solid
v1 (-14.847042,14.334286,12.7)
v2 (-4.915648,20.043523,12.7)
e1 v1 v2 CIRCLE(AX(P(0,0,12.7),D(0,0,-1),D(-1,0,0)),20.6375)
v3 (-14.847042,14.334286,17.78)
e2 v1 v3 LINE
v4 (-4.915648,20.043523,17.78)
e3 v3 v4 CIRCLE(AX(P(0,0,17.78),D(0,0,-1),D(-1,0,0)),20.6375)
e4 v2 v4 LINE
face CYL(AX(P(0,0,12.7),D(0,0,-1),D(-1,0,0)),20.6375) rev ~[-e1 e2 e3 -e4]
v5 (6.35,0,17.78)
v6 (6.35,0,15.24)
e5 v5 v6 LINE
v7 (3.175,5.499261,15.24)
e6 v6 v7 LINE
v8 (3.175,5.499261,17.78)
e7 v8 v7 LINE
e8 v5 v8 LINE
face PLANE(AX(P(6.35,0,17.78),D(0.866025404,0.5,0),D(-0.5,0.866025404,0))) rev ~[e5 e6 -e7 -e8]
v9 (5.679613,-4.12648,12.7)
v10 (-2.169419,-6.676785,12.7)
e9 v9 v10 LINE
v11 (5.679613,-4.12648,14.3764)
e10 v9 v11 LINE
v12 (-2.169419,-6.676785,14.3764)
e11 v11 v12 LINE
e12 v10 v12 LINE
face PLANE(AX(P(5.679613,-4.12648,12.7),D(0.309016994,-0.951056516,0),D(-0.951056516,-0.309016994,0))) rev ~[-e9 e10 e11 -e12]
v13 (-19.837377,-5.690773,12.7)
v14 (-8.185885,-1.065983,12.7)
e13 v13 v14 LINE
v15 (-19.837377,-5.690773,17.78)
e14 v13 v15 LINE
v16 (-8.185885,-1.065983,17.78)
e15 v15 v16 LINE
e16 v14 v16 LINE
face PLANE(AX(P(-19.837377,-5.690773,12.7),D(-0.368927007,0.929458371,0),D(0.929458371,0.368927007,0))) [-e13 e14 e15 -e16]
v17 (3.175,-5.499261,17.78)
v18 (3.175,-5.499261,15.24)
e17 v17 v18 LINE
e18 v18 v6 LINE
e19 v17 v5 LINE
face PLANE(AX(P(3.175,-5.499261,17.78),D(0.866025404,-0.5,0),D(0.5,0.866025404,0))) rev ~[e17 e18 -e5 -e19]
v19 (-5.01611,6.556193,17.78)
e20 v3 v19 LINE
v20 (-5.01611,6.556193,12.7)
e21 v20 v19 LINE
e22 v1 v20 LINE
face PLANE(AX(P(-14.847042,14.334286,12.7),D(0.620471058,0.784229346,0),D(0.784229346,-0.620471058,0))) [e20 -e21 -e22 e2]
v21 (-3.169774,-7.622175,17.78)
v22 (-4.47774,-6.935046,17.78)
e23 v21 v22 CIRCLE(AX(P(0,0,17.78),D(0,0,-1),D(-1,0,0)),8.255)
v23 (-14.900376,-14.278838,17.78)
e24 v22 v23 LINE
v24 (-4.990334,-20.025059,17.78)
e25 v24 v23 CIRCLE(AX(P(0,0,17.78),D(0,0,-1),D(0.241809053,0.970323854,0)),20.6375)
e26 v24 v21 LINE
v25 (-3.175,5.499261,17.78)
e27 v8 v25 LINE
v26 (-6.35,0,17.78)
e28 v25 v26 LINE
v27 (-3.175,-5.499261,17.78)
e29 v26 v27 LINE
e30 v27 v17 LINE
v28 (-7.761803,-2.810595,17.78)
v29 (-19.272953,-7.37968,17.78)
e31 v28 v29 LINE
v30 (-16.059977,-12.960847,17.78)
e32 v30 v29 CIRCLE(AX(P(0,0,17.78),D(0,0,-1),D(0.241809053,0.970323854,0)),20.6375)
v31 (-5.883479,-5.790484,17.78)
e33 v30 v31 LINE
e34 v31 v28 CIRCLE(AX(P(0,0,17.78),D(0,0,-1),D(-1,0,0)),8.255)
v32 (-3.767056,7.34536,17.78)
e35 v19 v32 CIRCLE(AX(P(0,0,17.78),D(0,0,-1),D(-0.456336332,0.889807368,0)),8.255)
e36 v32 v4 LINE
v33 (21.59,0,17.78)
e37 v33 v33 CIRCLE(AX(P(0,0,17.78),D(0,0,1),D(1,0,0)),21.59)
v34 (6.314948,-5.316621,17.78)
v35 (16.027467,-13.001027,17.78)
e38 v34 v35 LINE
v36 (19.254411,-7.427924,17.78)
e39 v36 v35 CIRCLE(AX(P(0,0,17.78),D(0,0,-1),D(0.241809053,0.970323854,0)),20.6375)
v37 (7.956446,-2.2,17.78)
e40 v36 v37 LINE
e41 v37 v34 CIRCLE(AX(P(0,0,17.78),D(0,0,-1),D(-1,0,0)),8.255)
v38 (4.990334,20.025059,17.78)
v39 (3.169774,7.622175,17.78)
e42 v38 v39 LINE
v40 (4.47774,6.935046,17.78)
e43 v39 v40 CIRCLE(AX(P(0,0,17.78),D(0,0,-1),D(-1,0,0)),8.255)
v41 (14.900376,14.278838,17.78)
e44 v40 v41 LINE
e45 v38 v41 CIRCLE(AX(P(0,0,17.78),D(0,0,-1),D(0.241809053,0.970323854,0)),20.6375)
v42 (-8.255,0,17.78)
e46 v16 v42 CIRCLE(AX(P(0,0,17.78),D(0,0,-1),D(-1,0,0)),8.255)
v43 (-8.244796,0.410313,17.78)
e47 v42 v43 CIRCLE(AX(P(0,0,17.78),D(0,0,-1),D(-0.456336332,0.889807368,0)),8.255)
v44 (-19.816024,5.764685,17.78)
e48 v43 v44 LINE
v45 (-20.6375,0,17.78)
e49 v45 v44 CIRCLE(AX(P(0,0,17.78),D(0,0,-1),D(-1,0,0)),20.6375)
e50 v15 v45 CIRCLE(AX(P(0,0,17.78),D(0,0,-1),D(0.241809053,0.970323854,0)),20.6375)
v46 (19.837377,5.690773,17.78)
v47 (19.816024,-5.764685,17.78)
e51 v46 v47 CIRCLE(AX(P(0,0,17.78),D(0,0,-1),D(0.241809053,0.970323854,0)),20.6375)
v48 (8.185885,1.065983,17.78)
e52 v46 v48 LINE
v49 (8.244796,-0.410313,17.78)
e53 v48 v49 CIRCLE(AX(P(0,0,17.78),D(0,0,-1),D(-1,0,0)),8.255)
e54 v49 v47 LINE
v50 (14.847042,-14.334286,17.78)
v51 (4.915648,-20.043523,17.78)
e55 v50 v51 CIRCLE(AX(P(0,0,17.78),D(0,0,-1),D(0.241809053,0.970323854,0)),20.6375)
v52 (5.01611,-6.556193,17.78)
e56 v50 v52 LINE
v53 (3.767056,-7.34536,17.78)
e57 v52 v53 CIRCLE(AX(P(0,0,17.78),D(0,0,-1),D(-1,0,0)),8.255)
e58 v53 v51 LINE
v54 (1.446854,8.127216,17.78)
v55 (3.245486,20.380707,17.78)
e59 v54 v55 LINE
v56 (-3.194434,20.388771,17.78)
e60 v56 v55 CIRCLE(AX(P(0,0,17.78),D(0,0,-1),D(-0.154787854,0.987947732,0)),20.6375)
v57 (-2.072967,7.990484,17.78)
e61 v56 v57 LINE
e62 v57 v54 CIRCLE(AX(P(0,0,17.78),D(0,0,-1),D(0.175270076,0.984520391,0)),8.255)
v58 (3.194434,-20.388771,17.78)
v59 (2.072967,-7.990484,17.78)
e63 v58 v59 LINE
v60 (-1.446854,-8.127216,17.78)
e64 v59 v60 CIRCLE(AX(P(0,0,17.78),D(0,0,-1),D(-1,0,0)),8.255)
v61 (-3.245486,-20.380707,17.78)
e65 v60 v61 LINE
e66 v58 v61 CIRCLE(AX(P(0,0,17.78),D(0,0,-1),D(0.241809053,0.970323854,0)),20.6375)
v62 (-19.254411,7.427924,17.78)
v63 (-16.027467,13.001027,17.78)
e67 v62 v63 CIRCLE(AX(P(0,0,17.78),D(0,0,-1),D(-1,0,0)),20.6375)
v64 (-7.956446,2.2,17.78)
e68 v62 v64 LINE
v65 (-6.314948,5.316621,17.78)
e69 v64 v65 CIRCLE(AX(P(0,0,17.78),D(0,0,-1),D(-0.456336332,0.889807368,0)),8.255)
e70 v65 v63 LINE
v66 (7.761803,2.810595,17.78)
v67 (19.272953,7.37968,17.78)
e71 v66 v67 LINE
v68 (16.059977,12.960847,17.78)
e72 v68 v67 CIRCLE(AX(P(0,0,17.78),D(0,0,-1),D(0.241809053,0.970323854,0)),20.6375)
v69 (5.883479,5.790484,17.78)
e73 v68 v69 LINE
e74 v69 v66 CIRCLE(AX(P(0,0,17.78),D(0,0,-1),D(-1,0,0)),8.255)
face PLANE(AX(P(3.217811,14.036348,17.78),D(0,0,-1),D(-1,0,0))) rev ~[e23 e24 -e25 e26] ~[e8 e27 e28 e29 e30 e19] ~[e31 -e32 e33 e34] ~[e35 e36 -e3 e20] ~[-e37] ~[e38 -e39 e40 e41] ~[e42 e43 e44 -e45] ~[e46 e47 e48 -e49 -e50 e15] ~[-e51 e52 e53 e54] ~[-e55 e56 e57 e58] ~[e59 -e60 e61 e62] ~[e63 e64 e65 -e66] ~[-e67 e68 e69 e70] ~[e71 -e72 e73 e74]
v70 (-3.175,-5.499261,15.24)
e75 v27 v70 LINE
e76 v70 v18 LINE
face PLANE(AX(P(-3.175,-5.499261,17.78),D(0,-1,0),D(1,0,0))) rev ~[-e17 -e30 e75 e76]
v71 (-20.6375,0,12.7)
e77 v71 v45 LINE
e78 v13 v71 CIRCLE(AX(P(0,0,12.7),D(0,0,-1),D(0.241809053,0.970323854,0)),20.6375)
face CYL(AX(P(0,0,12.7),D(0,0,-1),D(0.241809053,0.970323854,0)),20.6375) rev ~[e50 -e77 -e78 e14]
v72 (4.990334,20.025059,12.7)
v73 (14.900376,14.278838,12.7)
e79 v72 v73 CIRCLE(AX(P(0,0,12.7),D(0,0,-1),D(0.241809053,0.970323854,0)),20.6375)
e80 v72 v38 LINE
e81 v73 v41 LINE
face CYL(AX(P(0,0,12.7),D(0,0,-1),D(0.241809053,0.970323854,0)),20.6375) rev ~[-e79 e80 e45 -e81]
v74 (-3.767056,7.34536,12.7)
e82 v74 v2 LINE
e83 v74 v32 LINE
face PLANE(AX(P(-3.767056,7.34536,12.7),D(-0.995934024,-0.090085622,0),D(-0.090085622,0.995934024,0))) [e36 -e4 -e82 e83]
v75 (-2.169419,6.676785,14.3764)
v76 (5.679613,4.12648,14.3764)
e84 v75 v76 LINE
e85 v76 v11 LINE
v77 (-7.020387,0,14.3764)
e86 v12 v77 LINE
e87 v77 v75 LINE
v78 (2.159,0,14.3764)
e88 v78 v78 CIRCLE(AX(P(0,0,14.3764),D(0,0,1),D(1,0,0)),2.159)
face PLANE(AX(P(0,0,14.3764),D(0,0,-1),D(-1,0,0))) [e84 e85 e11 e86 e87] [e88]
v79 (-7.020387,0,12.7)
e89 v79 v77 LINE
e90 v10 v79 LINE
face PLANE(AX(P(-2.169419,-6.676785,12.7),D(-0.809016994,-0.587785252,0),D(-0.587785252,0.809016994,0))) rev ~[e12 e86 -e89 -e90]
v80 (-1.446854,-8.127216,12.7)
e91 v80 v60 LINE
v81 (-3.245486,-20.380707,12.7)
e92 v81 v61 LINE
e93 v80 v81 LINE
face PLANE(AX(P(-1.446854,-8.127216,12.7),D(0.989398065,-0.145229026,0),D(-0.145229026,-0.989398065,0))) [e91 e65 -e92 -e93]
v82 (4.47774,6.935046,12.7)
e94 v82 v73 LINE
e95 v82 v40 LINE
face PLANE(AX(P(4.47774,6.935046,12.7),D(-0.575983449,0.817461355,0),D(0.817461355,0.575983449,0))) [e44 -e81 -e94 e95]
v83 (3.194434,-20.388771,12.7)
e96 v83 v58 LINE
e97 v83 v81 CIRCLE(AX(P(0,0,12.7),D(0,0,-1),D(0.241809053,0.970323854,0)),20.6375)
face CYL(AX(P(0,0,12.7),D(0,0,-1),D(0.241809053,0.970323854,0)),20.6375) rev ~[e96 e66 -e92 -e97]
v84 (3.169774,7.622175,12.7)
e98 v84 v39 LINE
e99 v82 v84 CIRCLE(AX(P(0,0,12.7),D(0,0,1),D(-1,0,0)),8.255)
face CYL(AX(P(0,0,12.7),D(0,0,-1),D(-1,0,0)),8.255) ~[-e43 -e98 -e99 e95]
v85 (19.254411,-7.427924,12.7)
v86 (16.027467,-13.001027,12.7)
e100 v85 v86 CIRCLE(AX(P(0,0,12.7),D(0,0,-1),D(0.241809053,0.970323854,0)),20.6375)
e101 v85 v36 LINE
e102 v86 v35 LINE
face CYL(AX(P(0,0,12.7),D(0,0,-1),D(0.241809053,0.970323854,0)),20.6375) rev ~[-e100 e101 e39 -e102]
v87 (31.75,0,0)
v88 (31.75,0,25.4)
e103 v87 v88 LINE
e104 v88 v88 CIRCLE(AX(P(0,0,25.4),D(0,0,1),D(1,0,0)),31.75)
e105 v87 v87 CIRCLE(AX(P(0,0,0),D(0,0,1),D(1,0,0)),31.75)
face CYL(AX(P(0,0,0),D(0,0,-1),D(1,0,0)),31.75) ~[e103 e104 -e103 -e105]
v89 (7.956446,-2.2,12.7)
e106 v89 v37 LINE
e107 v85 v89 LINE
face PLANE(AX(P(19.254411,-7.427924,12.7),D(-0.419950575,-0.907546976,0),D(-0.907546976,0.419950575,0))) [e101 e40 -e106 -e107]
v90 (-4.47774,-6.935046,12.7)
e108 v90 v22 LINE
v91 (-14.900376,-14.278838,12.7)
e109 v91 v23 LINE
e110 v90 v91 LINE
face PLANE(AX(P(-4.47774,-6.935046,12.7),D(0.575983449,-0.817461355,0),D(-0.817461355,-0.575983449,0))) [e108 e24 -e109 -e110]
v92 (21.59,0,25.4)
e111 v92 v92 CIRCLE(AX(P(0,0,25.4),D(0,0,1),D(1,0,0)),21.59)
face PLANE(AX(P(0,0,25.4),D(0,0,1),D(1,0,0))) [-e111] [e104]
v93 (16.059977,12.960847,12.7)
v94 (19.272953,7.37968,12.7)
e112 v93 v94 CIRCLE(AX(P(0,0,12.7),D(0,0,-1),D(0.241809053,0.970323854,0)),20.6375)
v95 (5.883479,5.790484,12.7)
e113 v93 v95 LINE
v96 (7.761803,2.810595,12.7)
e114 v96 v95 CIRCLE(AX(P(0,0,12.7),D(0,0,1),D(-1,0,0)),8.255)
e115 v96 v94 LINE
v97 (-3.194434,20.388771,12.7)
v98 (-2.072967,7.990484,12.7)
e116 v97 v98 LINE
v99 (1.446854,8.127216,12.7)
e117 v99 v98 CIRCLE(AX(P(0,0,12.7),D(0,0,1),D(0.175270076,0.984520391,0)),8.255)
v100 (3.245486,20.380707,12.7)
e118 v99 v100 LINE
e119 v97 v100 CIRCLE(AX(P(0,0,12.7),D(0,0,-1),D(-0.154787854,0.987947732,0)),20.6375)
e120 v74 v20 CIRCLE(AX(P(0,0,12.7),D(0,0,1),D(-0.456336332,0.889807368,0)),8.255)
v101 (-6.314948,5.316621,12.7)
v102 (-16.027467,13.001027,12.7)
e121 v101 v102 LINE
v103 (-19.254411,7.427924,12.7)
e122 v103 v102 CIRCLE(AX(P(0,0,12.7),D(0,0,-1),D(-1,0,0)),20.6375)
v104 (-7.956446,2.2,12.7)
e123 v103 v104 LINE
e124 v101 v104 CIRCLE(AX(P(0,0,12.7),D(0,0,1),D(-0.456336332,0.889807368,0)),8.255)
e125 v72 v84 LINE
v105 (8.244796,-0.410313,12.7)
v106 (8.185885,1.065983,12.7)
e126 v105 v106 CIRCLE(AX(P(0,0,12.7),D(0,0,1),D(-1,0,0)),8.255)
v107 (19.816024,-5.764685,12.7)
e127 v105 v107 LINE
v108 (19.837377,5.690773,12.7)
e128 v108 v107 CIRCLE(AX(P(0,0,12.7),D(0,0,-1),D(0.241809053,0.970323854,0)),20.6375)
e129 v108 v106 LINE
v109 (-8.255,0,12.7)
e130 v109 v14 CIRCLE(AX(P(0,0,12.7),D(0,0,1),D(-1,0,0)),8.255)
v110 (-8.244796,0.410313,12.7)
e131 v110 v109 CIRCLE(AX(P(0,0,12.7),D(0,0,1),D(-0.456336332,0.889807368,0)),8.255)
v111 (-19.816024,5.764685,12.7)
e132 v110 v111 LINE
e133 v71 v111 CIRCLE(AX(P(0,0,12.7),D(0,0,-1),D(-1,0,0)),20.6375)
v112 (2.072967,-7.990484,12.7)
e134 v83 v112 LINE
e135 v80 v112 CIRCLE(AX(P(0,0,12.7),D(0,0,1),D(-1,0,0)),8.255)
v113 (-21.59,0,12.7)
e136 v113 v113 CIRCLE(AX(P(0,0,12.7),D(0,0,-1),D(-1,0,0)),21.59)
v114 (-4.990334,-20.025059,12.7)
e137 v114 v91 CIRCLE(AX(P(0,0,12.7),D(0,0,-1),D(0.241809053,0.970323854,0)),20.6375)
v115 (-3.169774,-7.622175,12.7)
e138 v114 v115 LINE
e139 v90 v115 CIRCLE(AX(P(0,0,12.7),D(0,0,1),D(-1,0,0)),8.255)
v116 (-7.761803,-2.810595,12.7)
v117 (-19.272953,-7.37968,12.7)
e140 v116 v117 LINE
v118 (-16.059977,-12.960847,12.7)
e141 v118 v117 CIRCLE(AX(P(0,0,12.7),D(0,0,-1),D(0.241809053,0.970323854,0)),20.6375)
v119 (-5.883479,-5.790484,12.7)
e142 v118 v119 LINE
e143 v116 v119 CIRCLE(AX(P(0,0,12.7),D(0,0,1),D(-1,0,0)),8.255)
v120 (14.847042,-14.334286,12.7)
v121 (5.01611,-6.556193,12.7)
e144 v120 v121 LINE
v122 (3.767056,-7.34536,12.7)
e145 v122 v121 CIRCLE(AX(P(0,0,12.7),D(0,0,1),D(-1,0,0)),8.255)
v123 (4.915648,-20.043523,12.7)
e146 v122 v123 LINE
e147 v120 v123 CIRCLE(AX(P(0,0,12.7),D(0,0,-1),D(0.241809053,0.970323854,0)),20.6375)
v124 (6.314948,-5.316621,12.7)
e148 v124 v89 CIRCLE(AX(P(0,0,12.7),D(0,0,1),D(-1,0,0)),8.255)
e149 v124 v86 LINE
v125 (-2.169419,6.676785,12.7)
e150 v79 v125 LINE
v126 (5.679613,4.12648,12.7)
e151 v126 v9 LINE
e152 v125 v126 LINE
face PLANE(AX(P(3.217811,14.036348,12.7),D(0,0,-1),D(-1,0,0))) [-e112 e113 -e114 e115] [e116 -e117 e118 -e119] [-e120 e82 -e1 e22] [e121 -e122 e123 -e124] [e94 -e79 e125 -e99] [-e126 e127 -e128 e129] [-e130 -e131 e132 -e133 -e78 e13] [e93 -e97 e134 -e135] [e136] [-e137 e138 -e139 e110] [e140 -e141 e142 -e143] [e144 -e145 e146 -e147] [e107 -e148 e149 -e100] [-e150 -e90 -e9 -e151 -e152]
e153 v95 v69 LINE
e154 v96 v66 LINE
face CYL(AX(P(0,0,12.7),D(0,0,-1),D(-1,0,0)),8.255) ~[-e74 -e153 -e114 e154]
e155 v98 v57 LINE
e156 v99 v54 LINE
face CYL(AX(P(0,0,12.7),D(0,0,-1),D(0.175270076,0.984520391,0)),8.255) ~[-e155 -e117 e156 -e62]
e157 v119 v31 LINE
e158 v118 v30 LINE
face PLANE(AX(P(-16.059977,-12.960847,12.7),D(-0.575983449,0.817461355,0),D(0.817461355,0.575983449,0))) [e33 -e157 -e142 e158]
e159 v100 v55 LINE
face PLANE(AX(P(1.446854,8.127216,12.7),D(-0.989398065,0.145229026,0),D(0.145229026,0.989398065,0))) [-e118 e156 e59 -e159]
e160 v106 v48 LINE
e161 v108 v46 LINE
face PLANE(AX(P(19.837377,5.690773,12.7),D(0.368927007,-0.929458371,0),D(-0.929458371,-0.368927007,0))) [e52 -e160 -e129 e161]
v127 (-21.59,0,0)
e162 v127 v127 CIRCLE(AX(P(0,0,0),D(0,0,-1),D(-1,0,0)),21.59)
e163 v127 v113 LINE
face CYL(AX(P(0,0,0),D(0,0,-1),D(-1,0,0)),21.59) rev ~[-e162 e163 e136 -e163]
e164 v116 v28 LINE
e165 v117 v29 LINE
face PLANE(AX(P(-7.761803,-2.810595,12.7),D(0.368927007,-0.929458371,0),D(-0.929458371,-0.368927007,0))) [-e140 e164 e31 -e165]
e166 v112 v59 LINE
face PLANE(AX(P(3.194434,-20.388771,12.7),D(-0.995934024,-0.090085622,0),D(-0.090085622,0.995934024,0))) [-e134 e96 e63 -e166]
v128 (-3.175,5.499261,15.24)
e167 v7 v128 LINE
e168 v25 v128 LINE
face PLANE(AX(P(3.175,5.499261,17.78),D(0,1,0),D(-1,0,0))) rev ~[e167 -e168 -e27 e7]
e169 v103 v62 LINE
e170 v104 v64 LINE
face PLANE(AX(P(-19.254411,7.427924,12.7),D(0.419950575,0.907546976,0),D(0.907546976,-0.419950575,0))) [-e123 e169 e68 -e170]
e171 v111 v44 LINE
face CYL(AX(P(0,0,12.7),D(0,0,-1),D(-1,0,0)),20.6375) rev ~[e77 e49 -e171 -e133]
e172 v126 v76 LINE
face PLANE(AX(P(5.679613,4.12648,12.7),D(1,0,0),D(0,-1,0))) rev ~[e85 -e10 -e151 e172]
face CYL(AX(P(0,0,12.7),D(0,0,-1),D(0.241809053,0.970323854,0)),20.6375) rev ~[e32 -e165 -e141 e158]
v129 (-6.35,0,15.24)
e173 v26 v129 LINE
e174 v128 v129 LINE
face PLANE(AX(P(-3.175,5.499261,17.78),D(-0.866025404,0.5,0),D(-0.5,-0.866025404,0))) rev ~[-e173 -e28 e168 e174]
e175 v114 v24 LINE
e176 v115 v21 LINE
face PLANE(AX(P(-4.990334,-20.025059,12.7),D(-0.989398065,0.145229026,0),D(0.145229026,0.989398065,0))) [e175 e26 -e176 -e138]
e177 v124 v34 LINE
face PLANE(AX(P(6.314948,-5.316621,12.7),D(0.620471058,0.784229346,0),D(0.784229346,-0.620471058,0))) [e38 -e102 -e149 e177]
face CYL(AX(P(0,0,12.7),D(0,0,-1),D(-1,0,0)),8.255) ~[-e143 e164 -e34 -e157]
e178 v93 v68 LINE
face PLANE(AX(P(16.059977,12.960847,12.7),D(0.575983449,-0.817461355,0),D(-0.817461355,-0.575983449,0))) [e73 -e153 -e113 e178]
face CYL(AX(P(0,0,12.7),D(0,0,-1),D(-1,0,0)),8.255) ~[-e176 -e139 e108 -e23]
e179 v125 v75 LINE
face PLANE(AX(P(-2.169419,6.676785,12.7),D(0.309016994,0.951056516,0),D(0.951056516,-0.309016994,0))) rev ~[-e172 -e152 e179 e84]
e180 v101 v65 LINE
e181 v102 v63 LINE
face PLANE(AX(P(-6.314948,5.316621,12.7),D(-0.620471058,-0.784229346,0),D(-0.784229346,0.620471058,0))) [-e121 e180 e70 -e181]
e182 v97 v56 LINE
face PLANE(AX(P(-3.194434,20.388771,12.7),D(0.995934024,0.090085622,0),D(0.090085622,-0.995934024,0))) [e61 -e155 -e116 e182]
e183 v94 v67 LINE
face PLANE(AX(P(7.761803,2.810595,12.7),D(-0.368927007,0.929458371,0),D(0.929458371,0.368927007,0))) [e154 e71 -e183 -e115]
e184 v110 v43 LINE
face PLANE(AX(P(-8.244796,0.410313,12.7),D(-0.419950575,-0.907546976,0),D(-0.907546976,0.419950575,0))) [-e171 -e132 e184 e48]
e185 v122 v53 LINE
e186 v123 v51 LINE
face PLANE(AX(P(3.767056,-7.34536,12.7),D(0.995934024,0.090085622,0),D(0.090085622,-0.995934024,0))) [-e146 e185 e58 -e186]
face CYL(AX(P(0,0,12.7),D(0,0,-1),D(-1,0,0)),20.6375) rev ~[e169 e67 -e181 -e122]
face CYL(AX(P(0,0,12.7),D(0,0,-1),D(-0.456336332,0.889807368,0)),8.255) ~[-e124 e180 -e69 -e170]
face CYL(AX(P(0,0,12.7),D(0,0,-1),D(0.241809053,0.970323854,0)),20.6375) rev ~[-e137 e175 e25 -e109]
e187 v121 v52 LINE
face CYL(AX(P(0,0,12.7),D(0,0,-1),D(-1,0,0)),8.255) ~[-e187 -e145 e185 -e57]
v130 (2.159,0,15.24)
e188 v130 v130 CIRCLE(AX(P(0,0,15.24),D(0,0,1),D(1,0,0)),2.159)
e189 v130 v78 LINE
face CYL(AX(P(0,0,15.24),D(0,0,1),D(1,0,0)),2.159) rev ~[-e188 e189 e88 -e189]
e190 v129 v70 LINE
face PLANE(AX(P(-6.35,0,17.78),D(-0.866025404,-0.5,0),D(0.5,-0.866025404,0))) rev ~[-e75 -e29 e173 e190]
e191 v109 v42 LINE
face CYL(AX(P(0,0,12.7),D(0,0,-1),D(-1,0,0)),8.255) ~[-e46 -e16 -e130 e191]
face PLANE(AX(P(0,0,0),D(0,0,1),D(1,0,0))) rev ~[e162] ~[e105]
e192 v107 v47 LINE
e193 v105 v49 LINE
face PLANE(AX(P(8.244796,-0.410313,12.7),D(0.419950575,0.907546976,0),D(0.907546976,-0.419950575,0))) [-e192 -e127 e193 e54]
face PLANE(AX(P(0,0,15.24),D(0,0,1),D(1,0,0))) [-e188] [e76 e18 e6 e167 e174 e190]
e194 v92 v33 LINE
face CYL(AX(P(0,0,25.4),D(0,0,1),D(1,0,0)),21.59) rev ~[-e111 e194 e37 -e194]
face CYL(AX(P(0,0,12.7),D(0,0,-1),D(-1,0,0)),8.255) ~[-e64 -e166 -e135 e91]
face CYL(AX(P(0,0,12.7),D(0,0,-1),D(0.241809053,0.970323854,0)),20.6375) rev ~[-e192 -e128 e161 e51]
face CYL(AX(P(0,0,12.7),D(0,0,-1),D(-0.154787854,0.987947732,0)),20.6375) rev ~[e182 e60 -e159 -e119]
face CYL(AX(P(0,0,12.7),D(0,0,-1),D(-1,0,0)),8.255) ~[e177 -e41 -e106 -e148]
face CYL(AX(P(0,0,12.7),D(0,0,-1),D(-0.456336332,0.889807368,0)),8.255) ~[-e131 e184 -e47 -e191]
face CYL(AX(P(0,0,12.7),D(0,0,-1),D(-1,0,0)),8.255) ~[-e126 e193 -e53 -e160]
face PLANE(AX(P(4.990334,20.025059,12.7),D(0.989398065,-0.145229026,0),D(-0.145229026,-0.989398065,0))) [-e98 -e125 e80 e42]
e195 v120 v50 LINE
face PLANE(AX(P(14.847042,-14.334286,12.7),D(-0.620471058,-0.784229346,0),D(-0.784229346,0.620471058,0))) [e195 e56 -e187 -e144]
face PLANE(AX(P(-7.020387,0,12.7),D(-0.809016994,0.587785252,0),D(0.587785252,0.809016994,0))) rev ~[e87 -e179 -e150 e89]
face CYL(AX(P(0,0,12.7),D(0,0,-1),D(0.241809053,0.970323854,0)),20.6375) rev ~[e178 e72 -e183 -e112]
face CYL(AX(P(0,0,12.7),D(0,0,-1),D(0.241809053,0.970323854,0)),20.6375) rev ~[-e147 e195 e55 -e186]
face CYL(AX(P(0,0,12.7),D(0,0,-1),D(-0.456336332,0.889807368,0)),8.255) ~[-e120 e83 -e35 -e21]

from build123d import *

# Parameters (mm, degrees)
SKETCH1_R           = 31.75
BOSS_EXTRUDE1_DEPTH = 25.4
SKETCH3_R           = 21.59
CUT_EXTRUDE1_DEPTH  = 7.62
SKETCH4_R           = 21.59
CUT_EXTRUDE2_DEPTH  = 12.7
CUT_EXTRUDE3_DEPTH  = 13.7
BOSS_EXTRUDE2_DEPTH = 5.08
CIRPATTERN1_COUNT   = 6
CUT_EXTRUDE5_DEPTH  = 2.54
SKETCH8_R           = 2.159
CUT_EXTRUDE6_DEPTH  = 2.54
CUT_EXTRUDE7_DEPTH  = 1.6764


with BuildPart() as part:
    # Sketch1 → Boss-Extrude1 (new body)
    with BuildSketch(Plane.XY):
        Circle(SKETCH1_R)
    extrude(amount=BOSS_EXTRUDE1_DEPTH)

    # Sketch3 → Cut-Extrude1 (cut)
    with BuildSketch(Plane.XY.offset(25.4)):
        Circle(SKETCH3_R)
    extrude(amount=-CUT_EXTRUDE1_DEPTH, mode=Mode.SUBTRACT)

    # Sketch4 → Cut-Extrude2 (cut)
    with BuildSketch(Plane(origin=(0, 0, 0), x_dir=(-1, 0, 0), z_dir=(0, 0, -1))):
        Circle(SKETCH4_R)
    extrude(amount=-CUT_EXTRUDE2_DEPTH, mode=Mode.SUBTRACT)

    # Sketch5 → Cut-Extrude3 (cut, through all)
    with BuildSketch(Plane(origin=(0, 0, 12.7), x_dir=(-1, 0, 0), z_dir=(0, 0, -1))):
        with BuildLine():
            Line((-3.169774213, 7.622175309), (-4.990334321, 20.025058542))
            ThreePointArc((-4.990334321, 20.025058542), (-12.706659311, -16.261833088), (20.6375, 0))
            ThreePointArc((20.6375, 0), (16.238120297, 12.736948436), (4.915648471, 20.043522803))
            Line((4.915648471, 20.043522803), (3.767056418, 7.345359824))
            ThreePointArc((3.767056418, 7.345359824), (7.044220174, 4.303950178), (8.255, 0))
            ThreePointArc((8.255, 0), (-4.581404745, -6.867004847), (-3.169774213, 7.622175309))
        make_face()
        with BuildLine():
            ThreePointArc((-3.245486062, 20.380707212), (-4.121747911, 20.221711115), (-4.990334321, 20.025058542))
            Line((-4.990334321, 20.025058542), (-3.169774213, 7.622175309))
            ThreePointArc((-3.169774213, 7.622175309), (-2.322085611, 7.921675543), (-1.446854472, 8.127215829))
            Line((-1.446854472, 8.127215829), (-3.245486062, 20.380707212))
        make_face()
        with BuildLine():
            ThreePointArc((3.194434326, 20.388771311), (-0.025842356, 20.63748382), (-3.245486062, 20.380707212))
            Line((-3.245486062, 20.380707212), (-1.446854472, 8.127215829))
            ThreePointArc((-1.446854472, 8.127215829), (0.320434302, 8.248778507), (2.072967036, 7.990483882))
            Line((2.072967036, 7.990483882), (3.194434326, 20.388771311))
        make_face()
        with BuildLine():
            ThreePointArc((4.915648471, 20.043522803), (4.058714067, 20.234456908), (3.194434326, 20.388771311))
            Line((3.194434326, 20.388771311), (2.072967036, 7.990483882))
            ThreePointArc((2.072967036, 7.990483882), (2.937773774, 7.714564813), (3.767056418, 7.345359824))
            Line((3.767056418, 7.345359824), (4.915648471, 20.043522803))
        make_face()
    extrude(amount=-CUT_EXTRUDE3_DEPTH, mode=Mode.SUBTRACT)

    # Sketch5<3> → Boss-Extrude2 (add)
    with BuildSketch(Plane(origin=(0, 0, 12.7), x_dir=(-1, 0, 0), z_dir=(0, 0, -1))):
        with BuildLine():
            ThreePointArc((-3.245486062, 20.380707212), (-4.121747911, 20.221711115), (-4.990334321, 20.025058542))
            Line((-4.990334321, 20.025058542), (-3.169774213, 7.622175309))
            ThreePointArc((-3.169774213, 7.622175309), (-2.322085611, 7.921675543), (-1.446854472, 8.127215829))
            Line((-1.446854472, 8.127215829), (-3.245486062, 20.380707212))
        make_face()
        with BuildLine():
            ThreePointArc((4.915648471, 20.043522803), (4.058714067, 20.234456908), (3.194434326, 20.388771311))
            Line((3.194434326, 20.388771311), (2.072967036, 7.990483882))
            ThreePointArc((2.072967036, 7.990483882), (2.937773774, 7.714564813), (3.767056418, 7.345359824))
            Line((3.767056418, 7.345359824), (4.915648471, 20.043522803))
        make_face()
    boss_extrude2 = extrude(amount=-BOSS_EXTRUDE2_DEPTH)

    # CirPattern1: Boss-Extrude2 ×6 about axis
    cirpattern1_axis = Axis((0, 0, 0), (0, 0, 1))
    for i in range(1, CIRPATTERN1_COUNT):
        add(boss_extrude2.rotate(cirpattern1_axis, i * 360 / CIRPATTERN1_COUNT))

    # Sketch7 → Cut-Extrude5 (cut)
    with BuildSketch(Plane.XY.offset(17.78)):
        Polygon((6.35, 0), (3.175, 5.499261314), (-3.175, 5.499261314), (-6.35, 0), (-3.175, -5.499261314), (3.175, -5.499261314), align=None)
    extrude(amount=-CUT_EXTRUDE5_DEPTH, mode=Mode.SUBTRACT)

    # Sketch8 → Cut-Extrude6 (cut)
    with BuildSketch(Plane.XY.offset(15.24)):
        Circle(SKETCH8_R)
    extrude(amount=-CUT_EXTRUDE6_DEPTH, mode=Mode.SUBTRACT)

    # Sketch9 → Cut-Extrude7 (cut)
    with BuildSketch(Plane(origin=(0, 0, 12.7), x_dir=(-1, 0, 0), z_dir=(0, 0, -1))):
        Polygon((7.020387337, 0), (2.169418994, 6.676785124), (-5.679612663, 4.126480142), (-5.679612663, -4.126480142), (2.169418994, -6.676785124), align=None)
    extrude(amount=-CUT_EXTRUDE7_DEPTH, mode=Mode.SUBTRACT)


solid = part.part
